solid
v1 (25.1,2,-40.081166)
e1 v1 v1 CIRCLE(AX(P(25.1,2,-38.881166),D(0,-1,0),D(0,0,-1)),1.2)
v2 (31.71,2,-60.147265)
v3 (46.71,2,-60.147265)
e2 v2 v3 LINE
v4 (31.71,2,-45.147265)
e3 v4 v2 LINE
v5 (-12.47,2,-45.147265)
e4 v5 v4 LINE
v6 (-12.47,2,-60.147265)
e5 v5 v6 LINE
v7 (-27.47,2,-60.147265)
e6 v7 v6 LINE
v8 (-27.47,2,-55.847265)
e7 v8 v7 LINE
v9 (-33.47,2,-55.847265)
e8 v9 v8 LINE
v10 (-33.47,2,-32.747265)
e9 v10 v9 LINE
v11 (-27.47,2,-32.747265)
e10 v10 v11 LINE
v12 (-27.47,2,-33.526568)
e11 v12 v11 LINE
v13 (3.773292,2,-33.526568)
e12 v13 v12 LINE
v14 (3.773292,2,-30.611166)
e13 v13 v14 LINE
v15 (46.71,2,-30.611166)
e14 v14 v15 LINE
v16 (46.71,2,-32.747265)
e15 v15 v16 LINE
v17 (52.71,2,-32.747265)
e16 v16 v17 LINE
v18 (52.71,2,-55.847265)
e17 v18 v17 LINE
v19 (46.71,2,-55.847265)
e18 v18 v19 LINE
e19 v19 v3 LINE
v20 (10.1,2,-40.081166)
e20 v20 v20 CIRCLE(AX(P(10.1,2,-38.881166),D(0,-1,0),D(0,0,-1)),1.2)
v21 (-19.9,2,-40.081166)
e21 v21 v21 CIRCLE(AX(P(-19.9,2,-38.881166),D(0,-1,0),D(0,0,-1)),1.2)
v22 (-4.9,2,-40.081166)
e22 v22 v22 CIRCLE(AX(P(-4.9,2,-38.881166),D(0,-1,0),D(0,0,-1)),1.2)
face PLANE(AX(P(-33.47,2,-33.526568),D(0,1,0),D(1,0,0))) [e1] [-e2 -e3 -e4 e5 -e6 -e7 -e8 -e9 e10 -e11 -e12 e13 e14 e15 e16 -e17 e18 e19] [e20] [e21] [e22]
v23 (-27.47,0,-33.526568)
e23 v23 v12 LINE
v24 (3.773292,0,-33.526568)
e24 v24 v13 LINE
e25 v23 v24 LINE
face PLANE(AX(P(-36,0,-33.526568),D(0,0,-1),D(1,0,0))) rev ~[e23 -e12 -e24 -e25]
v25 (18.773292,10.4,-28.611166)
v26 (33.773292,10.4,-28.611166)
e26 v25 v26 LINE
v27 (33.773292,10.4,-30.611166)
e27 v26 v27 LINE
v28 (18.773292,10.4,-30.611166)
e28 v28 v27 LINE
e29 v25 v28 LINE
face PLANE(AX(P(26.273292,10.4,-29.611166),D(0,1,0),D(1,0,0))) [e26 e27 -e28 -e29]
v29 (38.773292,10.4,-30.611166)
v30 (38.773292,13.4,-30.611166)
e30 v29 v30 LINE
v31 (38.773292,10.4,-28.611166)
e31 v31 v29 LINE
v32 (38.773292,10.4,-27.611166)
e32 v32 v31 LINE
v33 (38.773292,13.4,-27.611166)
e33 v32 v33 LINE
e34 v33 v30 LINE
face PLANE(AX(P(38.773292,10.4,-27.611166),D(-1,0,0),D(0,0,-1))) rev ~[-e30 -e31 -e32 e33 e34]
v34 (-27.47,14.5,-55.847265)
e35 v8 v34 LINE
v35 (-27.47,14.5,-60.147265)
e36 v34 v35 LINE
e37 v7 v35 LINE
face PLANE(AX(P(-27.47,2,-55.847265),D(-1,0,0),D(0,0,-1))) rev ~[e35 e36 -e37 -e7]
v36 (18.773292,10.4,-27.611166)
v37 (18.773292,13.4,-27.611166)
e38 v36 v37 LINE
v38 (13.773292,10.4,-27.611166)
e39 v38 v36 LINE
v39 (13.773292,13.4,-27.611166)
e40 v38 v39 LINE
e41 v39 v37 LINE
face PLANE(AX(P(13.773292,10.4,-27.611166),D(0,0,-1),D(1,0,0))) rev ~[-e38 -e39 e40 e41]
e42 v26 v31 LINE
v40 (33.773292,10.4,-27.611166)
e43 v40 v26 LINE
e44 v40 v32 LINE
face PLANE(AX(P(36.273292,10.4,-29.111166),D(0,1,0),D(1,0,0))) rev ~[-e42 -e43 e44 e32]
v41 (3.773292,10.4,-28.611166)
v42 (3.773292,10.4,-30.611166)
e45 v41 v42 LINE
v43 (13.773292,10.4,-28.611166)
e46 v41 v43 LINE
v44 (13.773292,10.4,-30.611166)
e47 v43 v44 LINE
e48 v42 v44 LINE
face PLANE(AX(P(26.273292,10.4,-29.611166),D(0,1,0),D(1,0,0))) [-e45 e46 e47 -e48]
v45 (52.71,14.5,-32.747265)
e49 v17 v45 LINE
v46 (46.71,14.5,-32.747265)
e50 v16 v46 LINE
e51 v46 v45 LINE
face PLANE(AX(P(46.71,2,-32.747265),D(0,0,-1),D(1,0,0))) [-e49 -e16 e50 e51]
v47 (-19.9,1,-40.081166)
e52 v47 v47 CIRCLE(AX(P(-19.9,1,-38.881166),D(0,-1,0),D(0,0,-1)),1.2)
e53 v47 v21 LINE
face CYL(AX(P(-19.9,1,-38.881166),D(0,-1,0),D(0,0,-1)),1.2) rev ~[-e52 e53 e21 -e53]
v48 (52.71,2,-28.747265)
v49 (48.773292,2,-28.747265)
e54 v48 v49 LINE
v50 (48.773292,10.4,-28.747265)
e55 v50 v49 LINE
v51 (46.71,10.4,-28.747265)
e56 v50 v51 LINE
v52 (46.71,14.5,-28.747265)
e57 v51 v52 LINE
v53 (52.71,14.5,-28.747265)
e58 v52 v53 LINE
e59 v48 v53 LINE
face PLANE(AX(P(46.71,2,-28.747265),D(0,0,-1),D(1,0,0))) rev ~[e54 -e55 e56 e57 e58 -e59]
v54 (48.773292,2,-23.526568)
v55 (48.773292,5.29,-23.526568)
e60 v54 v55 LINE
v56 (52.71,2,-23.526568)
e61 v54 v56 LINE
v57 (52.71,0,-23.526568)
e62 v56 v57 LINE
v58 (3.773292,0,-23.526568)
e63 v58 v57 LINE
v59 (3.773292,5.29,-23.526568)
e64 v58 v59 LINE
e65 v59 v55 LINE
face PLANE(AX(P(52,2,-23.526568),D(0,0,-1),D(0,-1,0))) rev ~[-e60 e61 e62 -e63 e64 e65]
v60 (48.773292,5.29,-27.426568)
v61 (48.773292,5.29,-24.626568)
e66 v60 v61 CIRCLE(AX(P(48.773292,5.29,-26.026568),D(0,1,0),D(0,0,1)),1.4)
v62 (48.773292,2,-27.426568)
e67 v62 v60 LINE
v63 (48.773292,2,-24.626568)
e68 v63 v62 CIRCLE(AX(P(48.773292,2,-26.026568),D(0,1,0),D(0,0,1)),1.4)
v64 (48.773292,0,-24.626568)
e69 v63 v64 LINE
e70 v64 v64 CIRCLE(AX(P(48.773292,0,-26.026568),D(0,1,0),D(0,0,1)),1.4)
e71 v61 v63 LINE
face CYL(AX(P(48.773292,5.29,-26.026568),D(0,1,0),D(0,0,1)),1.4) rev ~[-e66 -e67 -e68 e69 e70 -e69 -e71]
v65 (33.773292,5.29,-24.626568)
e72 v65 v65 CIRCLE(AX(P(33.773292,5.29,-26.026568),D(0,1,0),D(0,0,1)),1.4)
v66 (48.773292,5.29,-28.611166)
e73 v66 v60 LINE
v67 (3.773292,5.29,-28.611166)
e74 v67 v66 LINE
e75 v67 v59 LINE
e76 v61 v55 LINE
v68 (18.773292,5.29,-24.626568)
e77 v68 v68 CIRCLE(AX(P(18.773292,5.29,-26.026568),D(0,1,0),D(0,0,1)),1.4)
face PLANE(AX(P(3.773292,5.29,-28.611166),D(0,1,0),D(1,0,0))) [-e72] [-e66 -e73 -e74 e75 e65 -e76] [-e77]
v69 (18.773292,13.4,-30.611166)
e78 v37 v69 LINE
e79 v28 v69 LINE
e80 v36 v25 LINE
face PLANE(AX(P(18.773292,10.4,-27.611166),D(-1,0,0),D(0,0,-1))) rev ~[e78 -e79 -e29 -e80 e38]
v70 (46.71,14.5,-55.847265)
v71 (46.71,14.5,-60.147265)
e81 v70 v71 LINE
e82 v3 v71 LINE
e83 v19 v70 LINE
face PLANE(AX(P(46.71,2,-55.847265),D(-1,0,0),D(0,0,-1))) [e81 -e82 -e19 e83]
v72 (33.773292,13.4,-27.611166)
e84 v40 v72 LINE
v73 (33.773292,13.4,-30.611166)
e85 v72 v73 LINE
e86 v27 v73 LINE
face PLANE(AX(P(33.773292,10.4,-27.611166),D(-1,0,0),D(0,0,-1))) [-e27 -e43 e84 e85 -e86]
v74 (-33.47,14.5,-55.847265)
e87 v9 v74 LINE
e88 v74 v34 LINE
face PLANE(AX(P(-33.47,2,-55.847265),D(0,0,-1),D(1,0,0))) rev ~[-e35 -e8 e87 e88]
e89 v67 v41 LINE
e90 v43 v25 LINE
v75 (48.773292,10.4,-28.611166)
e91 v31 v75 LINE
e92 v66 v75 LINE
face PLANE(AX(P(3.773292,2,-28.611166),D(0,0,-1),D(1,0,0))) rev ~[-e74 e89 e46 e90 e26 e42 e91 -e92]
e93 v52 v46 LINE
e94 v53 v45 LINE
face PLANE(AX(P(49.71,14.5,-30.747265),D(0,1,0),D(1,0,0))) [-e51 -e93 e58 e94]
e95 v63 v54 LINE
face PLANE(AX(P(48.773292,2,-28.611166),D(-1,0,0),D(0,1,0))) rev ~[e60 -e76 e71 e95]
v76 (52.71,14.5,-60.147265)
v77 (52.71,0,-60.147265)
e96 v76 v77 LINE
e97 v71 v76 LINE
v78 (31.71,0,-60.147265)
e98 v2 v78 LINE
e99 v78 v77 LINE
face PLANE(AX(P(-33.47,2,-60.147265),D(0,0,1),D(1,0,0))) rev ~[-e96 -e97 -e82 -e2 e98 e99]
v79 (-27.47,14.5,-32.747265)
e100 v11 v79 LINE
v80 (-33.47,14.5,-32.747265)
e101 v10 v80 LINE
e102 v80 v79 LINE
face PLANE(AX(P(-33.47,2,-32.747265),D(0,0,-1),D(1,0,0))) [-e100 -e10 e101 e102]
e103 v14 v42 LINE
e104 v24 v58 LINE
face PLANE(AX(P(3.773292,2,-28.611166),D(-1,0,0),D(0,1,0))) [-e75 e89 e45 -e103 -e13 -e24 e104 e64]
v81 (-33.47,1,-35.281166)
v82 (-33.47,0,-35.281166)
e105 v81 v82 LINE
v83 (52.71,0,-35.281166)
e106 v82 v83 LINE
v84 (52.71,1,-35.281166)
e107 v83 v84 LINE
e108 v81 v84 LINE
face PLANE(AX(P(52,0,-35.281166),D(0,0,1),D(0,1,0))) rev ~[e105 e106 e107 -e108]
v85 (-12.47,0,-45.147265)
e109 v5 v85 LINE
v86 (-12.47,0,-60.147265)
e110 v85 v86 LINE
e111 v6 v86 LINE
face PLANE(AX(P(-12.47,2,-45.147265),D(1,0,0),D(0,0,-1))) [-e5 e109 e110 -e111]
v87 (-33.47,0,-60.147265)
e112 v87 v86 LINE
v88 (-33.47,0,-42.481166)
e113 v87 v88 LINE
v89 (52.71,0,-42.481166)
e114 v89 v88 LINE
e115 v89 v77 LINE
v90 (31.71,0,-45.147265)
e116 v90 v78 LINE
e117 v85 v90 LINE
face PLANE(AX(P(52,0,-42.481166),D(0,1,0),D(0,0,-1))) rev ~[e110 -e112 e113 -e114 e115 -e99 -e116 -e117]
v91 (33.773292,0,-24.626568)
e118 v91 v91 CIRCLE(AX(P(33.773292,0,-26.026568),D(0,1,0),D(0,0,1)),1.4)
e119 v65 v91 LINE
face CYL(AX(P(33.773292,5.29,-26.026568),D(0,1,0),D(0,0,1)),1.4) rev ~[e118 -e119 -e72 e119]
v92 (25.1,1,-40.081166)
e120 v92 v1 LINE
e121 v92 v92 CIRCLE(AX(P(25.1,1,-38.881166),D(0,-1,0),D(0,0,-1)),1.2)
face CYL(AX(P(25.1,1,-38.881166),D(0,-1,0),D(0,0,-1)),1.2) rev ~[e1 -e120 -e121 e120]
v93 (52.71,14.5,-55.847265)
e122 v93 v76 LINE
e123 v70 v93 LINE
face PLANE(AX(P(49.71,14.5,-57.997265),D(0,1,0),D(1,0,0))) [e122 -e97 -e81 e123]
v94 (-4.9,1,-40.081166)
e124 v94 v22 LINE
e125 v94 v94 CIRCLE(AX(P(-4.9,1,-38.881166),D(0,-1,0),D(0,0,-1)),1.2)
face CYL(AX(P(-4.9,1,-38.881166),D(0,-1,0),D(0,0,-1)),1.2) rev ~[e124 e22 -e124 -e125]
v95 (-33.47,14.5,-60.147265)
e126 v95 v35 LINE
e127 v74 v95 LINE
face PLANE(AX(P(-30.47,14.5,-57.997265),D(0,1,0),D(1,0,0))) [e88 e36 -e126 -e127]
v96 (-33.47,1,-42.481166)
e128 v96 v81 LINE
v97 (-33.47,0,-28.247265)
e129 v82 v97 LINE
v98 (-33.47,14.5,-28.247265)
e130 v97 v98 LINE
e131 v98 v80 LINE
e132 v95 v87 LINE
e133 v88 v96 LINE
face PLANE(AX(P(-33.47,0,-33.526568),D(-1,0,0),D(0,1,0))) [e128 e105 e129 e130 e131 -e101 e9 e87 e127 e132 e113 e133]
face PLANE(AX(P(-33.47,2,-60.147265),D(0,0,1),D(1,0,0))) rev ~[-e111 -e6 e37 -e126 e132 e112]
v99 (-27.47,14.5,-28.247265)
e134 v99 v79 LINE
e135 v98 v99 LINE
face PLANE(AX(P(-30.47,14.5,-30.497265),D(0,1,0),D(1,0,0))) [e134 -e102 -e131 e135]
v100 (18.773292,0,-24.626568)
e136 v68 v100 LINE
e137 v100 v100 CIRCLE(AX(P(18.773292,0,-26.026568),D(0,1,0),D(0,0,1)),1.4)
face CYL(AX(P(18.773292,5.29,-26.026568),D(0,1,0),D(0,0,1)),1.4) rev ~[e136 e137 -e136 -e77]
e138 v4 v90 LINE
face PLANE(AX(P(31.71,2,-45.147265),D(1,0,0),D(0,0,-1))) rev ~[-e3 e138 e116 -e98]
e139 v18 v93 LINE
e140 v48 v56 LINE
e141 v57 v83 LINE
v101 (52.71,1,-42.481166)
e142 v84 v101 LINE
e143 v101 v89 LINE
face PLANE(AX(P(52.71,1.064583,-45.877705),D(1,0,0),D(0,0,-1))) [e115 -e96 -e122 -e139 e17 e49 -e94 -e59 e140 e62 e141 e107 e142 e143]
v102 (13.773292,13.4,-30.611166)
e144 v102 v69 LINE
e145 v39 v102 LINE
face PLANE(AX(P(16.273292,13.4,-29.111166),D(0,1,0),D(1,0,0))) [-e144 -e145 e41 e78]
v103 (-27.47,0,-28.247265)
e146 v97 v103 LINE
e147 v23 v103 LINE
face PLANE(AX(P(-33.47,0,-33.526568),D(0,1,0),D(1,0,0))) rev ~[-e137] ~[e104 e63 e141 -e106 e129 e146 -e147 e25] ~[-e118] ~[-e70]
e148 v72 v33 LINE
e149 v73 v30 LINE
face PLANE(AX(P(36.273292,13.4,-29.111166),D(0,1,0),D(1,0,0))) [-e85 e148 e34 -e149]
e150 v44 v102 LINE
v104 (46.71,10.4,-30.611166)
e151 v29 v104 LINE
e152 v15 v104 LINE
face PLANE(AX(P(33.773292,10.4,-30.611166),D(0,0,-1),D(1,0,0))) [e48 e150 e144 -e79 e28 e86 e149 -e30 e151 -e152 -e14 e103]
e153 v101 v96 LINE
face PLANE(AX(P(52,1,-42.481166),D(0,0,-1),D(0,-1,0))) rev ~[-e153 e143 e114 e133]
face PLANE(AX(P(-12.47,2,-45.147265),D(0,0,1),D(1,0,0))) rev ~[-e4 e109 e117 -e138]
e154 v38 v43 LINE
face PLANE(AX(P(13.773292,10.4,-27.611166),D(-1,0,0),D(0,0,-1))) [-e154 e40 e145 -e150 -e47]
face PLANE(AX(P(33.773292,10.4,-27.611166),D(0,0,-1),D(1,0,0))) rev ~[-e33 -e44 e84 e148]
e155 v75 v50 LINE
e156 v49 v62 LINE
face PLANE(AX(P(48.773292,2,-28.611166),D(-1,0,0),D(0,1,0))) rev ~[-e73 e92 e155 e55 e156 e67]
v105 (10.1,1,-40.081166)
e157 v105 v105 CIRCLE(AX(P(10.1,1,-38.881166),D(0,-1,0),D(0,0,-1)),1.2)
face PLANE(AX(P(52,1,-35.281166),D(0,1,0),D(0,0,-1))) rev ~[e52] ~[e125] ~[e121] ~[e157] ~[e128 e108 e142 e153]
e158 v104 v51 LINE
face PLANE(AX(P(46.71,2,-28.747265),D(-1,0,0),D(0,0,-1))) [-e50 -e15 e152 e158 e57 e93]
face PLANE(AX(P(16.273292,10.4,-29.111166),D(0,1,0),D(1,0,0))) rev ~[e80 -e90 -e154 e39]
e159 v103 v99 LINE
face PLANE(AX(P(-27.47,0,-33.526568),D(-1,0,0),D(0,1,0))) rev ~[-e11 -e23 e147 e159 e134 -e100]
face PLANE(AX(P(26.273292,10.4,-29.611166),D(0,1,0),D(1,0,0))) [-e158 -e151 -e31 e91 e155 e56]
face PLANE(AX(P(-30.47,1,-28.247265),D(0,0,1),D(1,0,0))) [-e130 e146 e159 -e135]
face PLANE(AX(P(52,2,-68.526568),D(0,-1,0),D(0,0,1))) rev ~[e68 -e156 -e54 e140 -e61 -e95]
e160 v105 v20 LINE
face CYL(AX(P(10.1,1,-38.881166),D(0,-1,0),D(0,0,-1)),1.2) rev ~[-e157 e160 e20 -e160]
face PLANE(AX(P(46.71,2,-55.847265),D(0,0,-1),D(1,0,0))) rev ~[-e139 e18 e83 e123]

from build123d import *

# Parameters (mm, degrees)
EXTRUDE_1_DEPTH           = 2
CUT_EXTRUDE_1_DEPTH       = 2
SKETCH_3_W                = 3
SKETCH_3_H                = 3
EXTRUDE_2_DEPTH           = 12
EXTRUDE_3_DEPTH           = 12
SKETCH_5_R                = 0.75
CUT_EXTRUDE_2_DEPTH       = 12
SKETCH_6_R                = 0.75
CUT_EXTRUDE_3_DEPTH       = 12
SKETCH_7_W                = 26
SKETCH_7_H                = 60
EXTRUDE_4_DEPTH           = 2
SKETCH_8_W                = 3.705700703
SKETCH_8_H                = 4.457179677
SKETCH_8_W_2              = 1.523965484
SKETCH_8_H_2              = 4.5
EXTRUDE_5_DEPTH           = 14.4
SKETCH_9_R                = 0.95
CUT_EXTRUDE_4_DEPTH       = 14.4
SKETCH_10_W               = 26
SKETCH_10_H               = 8
EXTRUDE_6_DEPTH           = 2
SKETCH_11_W               = 4.5
SKETCH_11_H               = 4.5
EXTRUDE_7_DEPTH           = 14.4
SKETCH_12_R               = 0.95
CUT_EXTRUDE_5_DEPTH       = 14.4
FILLET_2_R                = 1
SKETCH_13_W               = 4.5
SKETCH_13_H               = 4.5
CUT_EXTRUDE_6_DEPTH       = 14.4
SKETCH_15_R               = 1.75
CUT_EXTRUDE_8_DEPTH       = 12
SKETCH_14_W               = 3
SKETCH_14_H               = 3
CUT_EXTRUDE_9_DEPTH       = 12
SKETCH_16_W               = 4.5
SKETCH_16_H               = 4.5
SKETCH_16_W_2             = 4.196061315
EXTRUDE_8_DEPTH           = 14.4
CUT_EXTRUDE_11_DEPTH      = 10
SKETCH_19_R               = 0.95
CUT_EXTRUDE_12_DEPTH      = 10
FILLET_3_R                = 1
SKETCH_21_W               = 2.552667246
SKETCH_21_H               = 4.5
EXTRUDE_9_DEPTH           = 14.4
CUT_EXTRUDE_14_DEPTH      = 79.074165065
CUT_EXTRUDE_14_DEPTH_BACK = 79.074165065
SKETCH_9_3_R              = 0.95
EXTRUDE_10_DEPTH          = 2
SKETCH_31_W               = 30
SKETCH_31_H               = 16
EXTRUDE_13_DEPTH          = 2
SKETCH_36_W               = 30
SKETCH_36_H               = 4
CUT_EXTRUDE_21_DEPTH      = 10
SKETCH_38_W               = 72
SKETCH_38_H               = 73.901085024
CUT_EXTRUDE_22_DEPTH      = 36.5
SKETCH_39_W               = 4.5
SKETCH_39_H               = 4.5
CUT_EXTRUDE_23_DEPTH      = 14.4
SKETCH_62_W               = 10
SKETCH_62_H               = 2
EXTRUDE_22_DEPTH          = 11.717956628
SKETCH_40_W               = 50
SKETCH_40_H               = 7.2
CUT_EXTRUDE_24_DEPTH      = 1
SKETCH_41_R               = 1.2
CUT_EXTRUDE_25_DEPTH      = 89.212970365
SKETCH_44_W               = 9
SKETCH_44_H               = 47.717956628
EXTRUDE_15_DEPTH          = 2
SKETCH_47_W               = 14
SKETCH_47_H               = 7.2
CUT_EXTRUDE_29_DEPTH      = 1
SKETCH_48_W               = 7
SKETCH_48_H               = 47.717956628
EXTRUDE_17_DEPTH          = 2
SKETCH_54_W               = 88
SKETCH_54_H               = 7.2
CUT_EXTRUDE_32_DEPTH      = 1
SKETCH_56_W               = 88
SKETCH_56_H               = 0.717956628
CUT_EXTRUDE_34_DEPTH      = 10
SKETCH_63_W               = 48.226708388
SKETCH_63_H               = 2
EXTRUDE_23_DEPTH          = 10
SKETCH_65_W               = 45
SKETCH_65_H               = 2
EXTRUDE_24_DEPTH          = 8.4
SKETCH_66_W               = 5
SKETCH_66_H               = 3
EXTRUDE_25_DEPTH          = 3
SKETCH_67_W               = 45
SKETCH_67_H               = 3.29
EXTRUDE_26_DEPTH          = 5.084597618
SKETCH_68_R               = 1.4
CUT_EXTRUDE_35_DEPTH      = 8
CUT_EXTRUDE_36_DEPTH      = 97.788884386
CUT_EXTRUDE_36_DEPTH_BACK = 97.788884386
SKETCH_69_W               = 46
SKETCH_69_H               = 12
SKETCH_75_W               = 6
SKETCH_75_H               = 4.3
SKETCH_75_H_2             = 4.5
SKETCH_75_H_3             = 4
EXTRUDE_30_DEPTH          = 12.5
EXTRUDE_31_DEPTH          = 0.71
SKETCH_77_W               = 6
SKETCH_77_H               = 2
EXTRUDE_32_DEPTH          = 5.279303266
CUT_EXTRUDE_39_DEPTH      = 2.53
SKETCH_79_W               = 86.18
SKETCH_79_H               = 8.379303266
CUT_EXTRUDE_40_DEPTH      = 2
SKETCH_80_W               = 44.18
SKETCH_80_H               = 15
CUT_EXTRUDE_41_DEPTH      = 12.5


with BuildPart() as part:
    # 草图1 → 凸台-拉伸1 (new body)
    with BuildSketch(Plane(origin=(0, 0, 0), x_dir=(1, 0, 0), z_dir=(0, 1, 0))):
        with BuildLine():
            Line((5, 0), (31, 0))
            Line((31, 0), (31, -12.266105287))
            Line((31, -12.266105287), (17.561663747, -40))
            Line((17.561663747, -40), (-17.561663747, -40))
            Line((-17.561663747, -40), (-31, -12.266105287))
            Line((-31, -12.266105287), (-31, 0))
            Line((-31, 0), (-5, 0))
            Line((-5, 0), (-5, -5))
            ThreePointArc((-5, -5), (0, -10), (5, -5))
            Line((5, -5), (5, 0))
        make_face()
    extrude(amount=EXTRUDE_1_DEPTH)

    # 草图2 → 切除-拉伸1 (cut)
    with BuildSketch(Plane.XZ):
        Polygon((-31, 0), (-24.370648345, 19.60824232), (-13.013264916, 35.515995547), (-4.410164775, 40), (-17.561663747, 40), (-31, 12.266105287), align=None)
    cut_extrude_1 = extrude(amount=-CUT_EXTRUDE_1_DEPTH, mode=Mode.SUBTRACT)

    # 镜向1: 切除-拉伸1 across plane
    add(cut_extrude_1.mirror(Plane(origin=(0, 0, 0), x_dir=(0, 0, 1), z_dir=(1, 0, 0))), mode=Mode.SUBTRACT)

    # 草图3 → 凸台-拉伸2 (add)
    with BuildSketch(Plane(origin=(0, 2, 0), x_dir=(1, 0, 0), z_dir=(0, 1, 0))):
        with Locations((0.264476572, -30.687696452)):
            Rectangle(SKETCH_3_W, SKETCH_3_H)
    extrude(amount=EXTRUDE_2_DEPTH)

    # 草图4 → 凸台-拉伸3 (add)
    with BuildSketch(Plane(origin=(0, 2, 0), x_dir=(1, 0, 0), z_dir=(0, 1, 0))):
        Polygon((12.325065561, -24.884390537), (14.54097081, -22.857655099), (12.419650467, -20.736334755), (10.298330123, -22.857655099), align=None)
    extrude_3 = extrude(amount=EXTRUDE_3_DEPTH)

    # 草图5 → 切除-拉伸2 (cut)
    with BuildSketch(Plane.ZY.offset(1.235523428)):
        with Locations((30.687696452, 11.5)):
            Circle(SKETCH_5_R)
        with Locations((30.687696452, 4.5)):
            Circle(SKETCH_5_R)
    extrude(amount=-CUT_EXTRUDE_2_DEPTH, mode=Mode.SUBTRACT)

    # 草图6 → 切除-拉伸3 (cut)
    with BuildSketch(Plane(origin=(18.192824737, 0, 30.752149712), x_dir=(0.7071067811865495, 0, 0.7071067811865457), z_dir=(-0.7071067811865457, 0, 0.7071067811865495))):
        with Locations((-9.798264607, 11.5)):
            Circle(SKETCH_6_R)
        with Locations((-9.798264607, 4.5)):
            Circle(SKETCH_6_R)
    cut_extrude_3 = extrude(amount=-CUT_EXTRUDE_3_DEPTH, mode=Mode.SUBTRACT)

    # 镜向2: 凸台-拉伸3, 切除-拉伸3 across plane
    add(extrude_3.mirror(Plane(origin=(0, 0, 0), x_dir=(0, 0, 1), z_dir=(1, 0, 0))))
    add(cut_extrude_3.mirror(Plane(origin=(0, 0, 0), x_dir=(0, 0, 1), z_dir=(1, 0, 0))), mode=Mode.SUBTRACT)

    # 草图7 → 凸台-拉伸4 (add)
    with BuildSketch(Plane(origin=(0, 2, 0), x_dir=(1, 0, 0), z_dir=(0, 1, 0))):
        with Locations((-18, 30)):
            Rectangle(SKETCH_7_W, SKETCH_7_H)
        with Locations((18, 30)):
            Rectangle(SKETCH_7_W, SKETCH_7_H)
    extrude(amount=-EXTRUDE_4_DEPTH)

    # 草图8 → 凸台-拉伸5 (add)
    with BuildSketch(Plane(origin=(0, 2, 0), x_dir=(1, 0, 0), z_dir=(0, 1, 0))):
        with Locations((28.776217622, 3.180021452)):
            Rectangle(SKETCH_8_W, SKETCH_8_H)
        with Locations((27.685350012, 30.55861129)):
            Rectangle(SKETCH_8_W_2, SKETCH_8_H_2)
    extrude_5 = extrude(amount=EXTRUDE_5_DEPTH)

    # 草图9 → 切除-拉伸4 (cut)
    with BuildSketch(Plane(origin=(31, 0, 0), x_dir=(0, 0, -1), z_dir=(1, 0, 0))):
        with Locations((3.00861129, 8.2)):
            Circle(SKETCH_9_R)
        with Locations((30.70861129, 8.2)):
            Circle(SKETCH_9_R)
    cut_extrude_4 = extrude(amount=-CUT_EXTRUDE_4_DEPTH, mode=Mode.SUBTRACT)

    # 镜向3: 凸台-拉伸5, 切除-拉伸4 across plane
    add(extrude_5.mirror(Plane(origin=(0, 0, 0), x_dir=(0, 0, 1), z_dir=(1, 0, 0))))
    add(cut_extrude_4.mirror(Plane(origin=(0, 0, 0), x_dir=(0, 0, 1), z_dir=(1, 0, 0))), mode=Mode.SUBTRACT)

    # 草图10 → 凸台-拉伸6 (add)
    with BuildSketch(Plane(origin=(0, 2, 0), x_dir=(1, 0, 0), z_dir=(0, 1, 0))):
        with Locations((-18, 64)):
            Rectangle(SKETCH_10_W, SKETCH_10_H)
        Polygon((5, 60), (5, 68), (30.798641436, 68), (31, 60), align=None)
    extrude(amount=-EXTRUDE_6_DEPTH)

    # 草图11 → 凸台-拉伸7 (add)
    with BuildSketch(Plane(origin=(0, 2, 0), x_dir=(1, 0, 0), z_dir=(0, 1, 0))):
        with Locations((18.529999999, 37.05861129)):
            Rectangle(SKETCH_11_W, SKETCH_11_H)
        with Locations((18.529999999, 64.45861129)):
            Rectangle(SKETCH_11_W, SKETCH_11_H)
    extrude(amount=EXTRUDE_7_DEPTH)

    # 草图12 → 切除-拉伸5 (cut)
    with BuildSketch(Plane.ZY.offset(-16.279999999)):
        with Locations((-36.90861129, 8.2)):
            Circle(SKETCH_12_R)
        with Locations((-64.60861129, 8.2)):
            Circle(SKETCH_12_R)
    extrude(amount=-CUT_EXTRUDE_5_DEPTH, mode=Mode.SUBTRACT)

    # 圆角2
    fillet_2_edges = [part.edges().sort_by_distance(p)[0] for p in [
        (26.92336727, 9.2, -5.40861129),
        (26.92336727, 9.2, -28.30861129),
        (-26.92336727, 9.2, -5.40861129),
        (-26.92336727, 9.2, -28.30861129),
        (16.279999999, 9.2, -39.30861129),
        (16.279999999, 9.2, -62.20861129),
    ]]
    fillet(fillet_2_edges, radius=FILLET_2_R)

    # 草图13 → 切除-拉伸6 (cut)
    with BuildSketch(Plane(origin=(0, 16.4, 0), x_dir=(1, 0, 0), z_dir=(0, 1, 0))):
        with Locations((18.529999999, 37.05861129)):
            Rectangle(SKETCH_13_W, SKETCH_13_H)
        with Locations((18.529999999, 64.45861129)):
            Rectangle(SKETCH_13_W, SKETCH_13_H)
    extrude(amount=-CUT_EXTRUDE_6_DEPTH, mode=Mode.SUBTRACT)

    # 草图15 → 切除-拉伸8 (cut)
    with BuildSketch(Plane(origin=(0, 2, 0), x_dir=(1, 0, 0), z_dir=(0, 1, 0))):
        with Locations(Location((-6.235523428, -30.687696452, 0), (0, 0, 270))):
            Circle(SKETCH_15_R)
        with Locations(Location((6.764476572, -30.687696452, 0), (0, 0, 270))):
            Circle(SKETCH_15_R)
    extrude(amount=-CUT_EXTRUDE_8_DEPTH, mode=Mode.SUBTRACT)

    # 草图14 → 切除-拉伸9 (cut)
    with BuildSketch(Plane(origin=(0, 14, 0), x_dir=(1, 0, 0), z_dir=(0, 1, 0))):
        with Locations((0.264476572, -30.687696452)):
            Rectangle(SKETCH_14_W, SKETCH_14_H)
    extrude(amount=-CUT_EXTRUDE_9_DEPTH, mode=Mode.SUBTRACT)

    # 草图16 → 凸台-拉伸8 (add)
    with BuildSketch(Plane.XZ):
        with Locations((-18.720947438, -42.276567918)):
            Rectangle(SKETCH_16_W, SKETCH_16_H)
        with Locations((-18.568978096, -14.876567918)):
            Rectangle(SKETCH_16_W_2, SKETCH_16_H)
    extrude(amount=EXTRUDE_8_DEPTH)

    # 草图17 → 切除-拉伸11 (cut)
    with BuildSketch(Plane.XZ):
        Polygon((-20.970947438, -44.526567918), (-31, -44.526567918), (-37.437571986, -44.526567918), (-37.437571986, -68), (-31, -68), (30.798641436, -68), (38.694931003, -68), (38.694931003, -44.526567918), (31, -44.526567918), align=None)
    extrude(amount=-CUT_EXTRUDE_11_DEPTH, mode=Mode.SUBTRACT)

    # 草图19 → 切除-拉伸12 (cut)
    with BuildSketch(Plane(origin=(-16.470947438, 0, 0), x_dir=(0, 0, -1), z_dir=(1, 0, 0))):
        with Locations((14.726567918, -6.2)):
            Circle(SKETCH_19_R)
        with Locations((42.426567918, -6.2)):
            Circle(SKETCH_19_R)
    extrude(amount=-CUT_EXTRUDE_12_DEPTH, mode=Mode.SUBTRACT)

    # 圆角3
    fillet_3_edges = [part.edges().sort_by_distance(p)[0] for p in [
        (-16.470947438, -7.2, -40.026567918),
        (-16.470947438, -7.2, -17.126567918),
    ]]
    fillet(fillet_3_edges, radius=FILLET_3_R)

    # 草图21 → 凸台-拉伸9 (add)
    with BuildSketch(Plane(origin=(0, 2, 0), x_dir=(1, 0, 0), z_dir=(0, 1, 0))):
        with Locations((-29.723666377, 30.55861129)):
            Rectangle(SKETCH_21_W, SKETCH_21_H)
        with Locations((29.723666377, 30.55861129)):
            Rectangle(SKETCH_21_W, SKETCH_21_H)
    extrude(amount=EXTRUDE_9_DEPTH)

    # 草图9<3> → 切除-拉伸14 (cut, two sides: drawn at the far end of the back side and taken through both)
    with BuildSketch(Plane(origin=(31, 0, 0), x_dir=(0, 0, -1), z_dir=(1, 0, 0)).offset(-CUT_EXTRUDE_14_DEPTH_BACK)):
        with Locations((3.00861129, 8.2)):
            Circle(SKETCH_9_3_R)
        with Locations((30.70861129, 8.2)):
            Circle(SKETCH_9_3_R)
    extrude(amount=CUT_EXTRUDE_14_DEPTH + CUT_EXTRUDE_14_DEPTH_BACK, mode=Mode.SUBTRACT)

    # 草图22 → 凸台-拉伸10 (add)
    with BuildSketch(Plane(origin=(0, 2, 0), x_dir=(1, 0, 0), z_dir=(0, 1, 0))):
        Polygon((31, 68.526567918), (-31, 68.526567918), (-36, 68.526567918), (-36, 32.80861129), (-31, 32.80861129), (-31, 44.526567918), (31, 44.526567918), (31, 32.80861129), (36, 32.80861129), (36, 68.526567918), align=None)
    extrude(amount=-EXTRUDE_10_DEPTH)

    # 草图31 → 凸台-拉伸13 (add)
    with BuildSketch(Plane(origin=(0, 2, 0), x_dir=(1, 0, 0), z_dir=(0, 1, 0))):
        with Locations((21, 76.526567918)):
            Rectangle(SKETCH_31_W, SKETCH_31_H)
    extrude(amount=-EXTRUDE_13_DEPTH)

    # 草图36 → 切除-拉伸21 (cut)
    with BuildSketch(Plane.XZ):
        with Locations((21, -82.526567918)):
            Rectangle(SKETCH_36_W, SKETCH_36_H)
    extrude(amount=-CUT_EXTRUDE_21_DEPTH, mode=Mode.SUBTRACT)

    # 草图38 → 切除-拉伸22 (cut, symmetric)
    with BuildSketch(Plane(origin=(0, 2, 0), x_dir=(1, 0, 0), z_dir=(0, 1, 0))):
        with Locations((0, -4.141931222)):
            Rectangle(SKETCH_38_W, SKETCH_38_H)
    extrude(amount=CUT_EXTRUDE_22_DEPTH, both=True, mode=Mode.SUBTRACT)

    # 草图39 → 切除-拉伸23 (cut)
    with BuildSketch(Plane.XZ.offset(14.4)):
        with Locations((-18.720947438, -42.276567918)):
            Rectangle(SKETCH_39_W, SKETCH_39_H)
    extrude(amount=-CUT_EXTRUDE_23_DEPTH, mode=Mode.SUBTRACT)

    # 草图62 → 凸台-拉伸22 (add)
    with BuildSketch(Plane.XY.offset(-44.526567918)):
        with Locations((0, 1)):
            Rectangle(SKETCH_62_W, SKETCH_62_H)
    extrude(amount=EXTRUDE_22_DEPTH)

    # 草图40 → 切除-拉伸24 (cut)
    with BuildSketch(Plane.XZ):
        with Locations((0, -38.881165536)):
            Rectangle(SKETCH_40_W, SKETCH_40_H)
    extrude(amount=-CUT_EXTRUDE_24_DEPTH, mode=Mode.SUBTRACT)

    # 草图41 → 切除-拉伸25 (cut, through all)
    with BuildSketch(Plane.XZ.offset(-1)):
        with Locations(Location((-19.9, -38.881165536, 0), (0, 0, 270))):
            Circle(SKETCH_41_R)
        with Locations(Location((-4.9, -38.881165536, 0), (0, 0, 270))):
            Circle(SKETCH_41_R)
        with Locations(Location((10.1, -38.881165536, 0), (0, 0, 270))):
            Circle(SKETCH_41_R)
        with Locations(Location((25.1, -38.881165536, 0), (0, 0, 270))):
            Circle(SKETCH_41_R)
    extrude(amount=-CUT_EXTRUDE_25_DEPTH, mode=Mode.SUBTRACT)

    # 草图44 → 凸台-拉伸15 (add)
    with BuildSketch(Plane(origin=(0, 2, 0), x_dir=(1, 0, 0), z_dir=(0, 1, 0))):
        with Locations((40.5, 56.667589604)):
            Rectangle(SKETCH_44_W, SKETCH_44_H)
    extrude(amount=-EXTRUDE_15_DEPTH)

    # 草图47 → 切除-拉伸29 (cut)
    with BuildSketch(Plane.XZ):
        with Locations((32, -38.881165536)):
            Rectangle(SKETCH_47_W, SKETCH_47_H)
    extrude(amount=-CUT_EXTRUDE_29_DEPTH, mode=Mode.SUBTRACT)

    # 草图48 → 凸台-拉伸17 (add)
    with BuildSketch(Plane(origin=(0, 2, 0), x_dir=(1, 0, 0), z_dir=(0, 1, 0))):
        with Locations((48.5, 56.667589604)):
            Rectangle(SKETCH_48_W, SKETCH_48_H)
    extrude(amount=-EXTRUDE_17_DEPTH)

    # 草图54 → 切除-拉伸32 (cut)
    with BuildSketch(Plane.XZ):
        with Locations((8, -38.881165536)):
            Rectangle(SKETCH_54_W, SKETCH_54_H)
    extrude(amount=-CUT_EXTRUDE_32_DEPTH, mode=Mode.SUBTRACT)

    # 草图56 → 切除-拉伸34 (cut)
    with BuildSketch(Plane.XZ):
        with Locations((8, -33.167589604)):
            Rectangle(SKETCH_56_W, SKETCH_56_H)
    extrude(amount=-CUT_EXTRUDE_34_DEPTH, mode=Mode.SUBTRACT)

    # 草图63 → 凸台-拉伸23 (add)
    with BuildSketch(Plane.XY.offset(-33.526567918)):
        with Locations((27.886645806, 1)):
            Rectangle(SKETCH_63_W, SKETCH_63_H)
    extrude(amount=EXTRUDE_23_DEPTH)

    # 草图65 → 凸台-拉伸24 (add)
    with BuildSketch(Plane(origin=(0, 2, 0), x_dir=(1, 0, 0), z_dir=(0, 1, 0))):
        with Locations((26.273291612, 29.611165536)):
            Rectangle(SKETCH_65_W, SKETCH_65_H)
    extrude(amount=EXTRUDE_24_DEPTH)

    # 草图66 → 凸台-拉伸25 (add)
    with BuildSketch(Plane(origin=(0, 10.4, 0), x_dir=(1, 0, 0), z_dir=(0, 1, 0))):
        with Locations((36.273291612, 29.111165536)):
            Rectangle(SKETCH_66_W, SKETCH_66_H)
        with Locations((16.273291612, 29.111165536)):
            Rectangle(SKETCH_66_W, SKETCH_66_H)
    extrude(amount=EXTRUDE_25_DEPTH)

    # 草图67 → 凸台-拉伸26 (add)
    with BuildSketch(Plane.XY.offset(-28.611165536)):
        with Locations((26.273291612, 3.645)):
            Rectangle(SKETCH_67_W, SKETCH_67_H)
    extrude(amount=EXTRUDE_26_DEPTH)

    # 草图68 → 切除-拉伸35 (cut)
    with BuildSketch(Plane(origin=(0, 5.29, 0), x_dir=(1, 0, 0), z_dir=(0, 1, 0))):
        with Locations(Location((33.773291612, 26.026567918, 0), (0, 0, 270))):
            Circle(SKETCH_68_R)
        with Locations(Location((18.773291612, 26.026567918, 0), (0, 0, 270))):
            Circle(SKETCH_68_R)
        with Locations(Location((48.773291612, 26.026567918, 0), (0, 0, 270))):
            Circle(SKETCH_68_R)
    extrude(amount=-CUT_EXTRUDE_35_DEPTH, mode=Mode.SUBTRACT)

    # 草图69 → 切除-拉伸36 (cut, two sides: drawn at the far end of the back side and taken through both)
    with BuildSketch(Plane.XZ.offset(-CUT_EXTRUDE_36_DEPTH_BACK)):
        with Locations((29, -74.526567918)):
            Rectangle(SKETCH_69_W, SKETCH_69_H)
    extrude(amount=CUT_EXTRUDE_36_DEPTH + CUT_EXTRUDE_36_DEPTH_BACK, mode=Mode.SUBTRACT)

    # 草图75 → 凸台-拉伸30 (add)
    with BuildSketch(Plane(origin=(0, 2, 0), x_dir=(1, 0, 0), z_dir=(0, 1, 0))):
        with Locations((-30.47, 57.997264652)):
            Rectangle(SKETCH_75_W, SKETCH_75_H)
        with Locations((-30.47, 30.497264652)):
            Rectangle(SKETCH_75_W, SKETCH_75_H_2)
        with Locations((49.71, 30.747264652)):
            Rectangle(SKETCH_75_W, SKETCH_75_H_3)
        with Locations((49.71, 57.997264652)):
            Rectangle(SKETCH_75_W, SKETCH_75_H)
    extrude(amount=EXTRUDE_30_DEPTH)


with BuildPart() as extrude_30_piece_1:
    # of the separate pieces the step leaves, piece 1, a body of its own (extrude_30_pieces)
    add(part.part.solids().sort_by_distance((3.773291612, 0, -33.526567918))[0])

    # 草图76 → 凸台-拉伸31 (add)
    with BuildSketch(Plane(origin=(52, 0, 0), x_dir=(0, 0, -1), z_dir=(1, 0, 0))):
        Polygon((68.526567918, 0), (68.526567918, 2), (60.147264652, 2), (55.847264652, 2), (32.747264652, 2), (28.747264652, 2), (23.526567918, 2), (23.526567918, 0), (35.281165536, 0), (35.281165536, 1), (42.481165536, 1), (42.481165536, 0), align=None)
    extrude(amount=EXTRUDE_31_DEPTH)



with BuildPart() as extrude_30_piece_2:
    # of the separate pieces the step leaves, piece 2, a body of its own (extrude_30_pieces)
    add(part.part.solids().sort_by_distance((-33.47, 2, -32.747264652))[0])


with BuildPart() as extrude_30_piece_1_1:
    add(extrude_30_piece_1.part)

    add(extrude_30_piece_2.part)  # 凸台-拉伸32 merges 凸台-拉伸30 piece 2
    # 草图77 → 凸台-拉伸32 (add)
    with BuildSketch(Plane.XY.offset(-33.526567918)):
        with Locations((-30.47, 1)):
            Rectangle(SKETCH_77_W, SKETCH_77_H)
    extrude(amount=EXTRUDE_32_DEPTH)

    # 草图78 → 切除-拉伸39 (cut)
    with BuildSketch(Plane.ZY.offset(36)):
        Polygon((-33.526567918, 0), (-33.526567918, 2), (-68.526567918, 2), (-68.526567918, 0), (-42.481165536, 0), (-42.481165536, 1), (-35.281165536, 1), (-35.281165536, 0), align=None)
    extrude(amount=-CUT_EXTRUDE_39_DEPTH, mode=Mode.SUBTRACT)

    # 草图79 → 切除-拉伸40 (cut)
    with BuildSketch(Plane(origin=(0, 2, 0), x_dir=(1, 0, 0), z_dir=(0, 1, 0))):
        with Locations((9.62, 64.336916285)):
            Rectangle(SKETCH_79_W, SKETCH_79_H)
    extrude(amount=-CUT_EXTRUDE_40_DEPTH, mode=Mode.SUBTRACT)

    # 草图80 → 切除-拉伸41 (cut)
    with BuildSketch(Plane(origin=(0, 2, 0), x_dir=(1, 0, 0), z_dir=(0, 1, 0))):
        with Locations((9.62, 52.647264652)):
            Rectangle(SKETCH_80_W, SKETCH_80_H)
    extrude(amount=-CUT_EXTRUDE_41_DEPTH, mode=Mode.SUBTRACT)


solid = extrude_30_piece_1_1.part
